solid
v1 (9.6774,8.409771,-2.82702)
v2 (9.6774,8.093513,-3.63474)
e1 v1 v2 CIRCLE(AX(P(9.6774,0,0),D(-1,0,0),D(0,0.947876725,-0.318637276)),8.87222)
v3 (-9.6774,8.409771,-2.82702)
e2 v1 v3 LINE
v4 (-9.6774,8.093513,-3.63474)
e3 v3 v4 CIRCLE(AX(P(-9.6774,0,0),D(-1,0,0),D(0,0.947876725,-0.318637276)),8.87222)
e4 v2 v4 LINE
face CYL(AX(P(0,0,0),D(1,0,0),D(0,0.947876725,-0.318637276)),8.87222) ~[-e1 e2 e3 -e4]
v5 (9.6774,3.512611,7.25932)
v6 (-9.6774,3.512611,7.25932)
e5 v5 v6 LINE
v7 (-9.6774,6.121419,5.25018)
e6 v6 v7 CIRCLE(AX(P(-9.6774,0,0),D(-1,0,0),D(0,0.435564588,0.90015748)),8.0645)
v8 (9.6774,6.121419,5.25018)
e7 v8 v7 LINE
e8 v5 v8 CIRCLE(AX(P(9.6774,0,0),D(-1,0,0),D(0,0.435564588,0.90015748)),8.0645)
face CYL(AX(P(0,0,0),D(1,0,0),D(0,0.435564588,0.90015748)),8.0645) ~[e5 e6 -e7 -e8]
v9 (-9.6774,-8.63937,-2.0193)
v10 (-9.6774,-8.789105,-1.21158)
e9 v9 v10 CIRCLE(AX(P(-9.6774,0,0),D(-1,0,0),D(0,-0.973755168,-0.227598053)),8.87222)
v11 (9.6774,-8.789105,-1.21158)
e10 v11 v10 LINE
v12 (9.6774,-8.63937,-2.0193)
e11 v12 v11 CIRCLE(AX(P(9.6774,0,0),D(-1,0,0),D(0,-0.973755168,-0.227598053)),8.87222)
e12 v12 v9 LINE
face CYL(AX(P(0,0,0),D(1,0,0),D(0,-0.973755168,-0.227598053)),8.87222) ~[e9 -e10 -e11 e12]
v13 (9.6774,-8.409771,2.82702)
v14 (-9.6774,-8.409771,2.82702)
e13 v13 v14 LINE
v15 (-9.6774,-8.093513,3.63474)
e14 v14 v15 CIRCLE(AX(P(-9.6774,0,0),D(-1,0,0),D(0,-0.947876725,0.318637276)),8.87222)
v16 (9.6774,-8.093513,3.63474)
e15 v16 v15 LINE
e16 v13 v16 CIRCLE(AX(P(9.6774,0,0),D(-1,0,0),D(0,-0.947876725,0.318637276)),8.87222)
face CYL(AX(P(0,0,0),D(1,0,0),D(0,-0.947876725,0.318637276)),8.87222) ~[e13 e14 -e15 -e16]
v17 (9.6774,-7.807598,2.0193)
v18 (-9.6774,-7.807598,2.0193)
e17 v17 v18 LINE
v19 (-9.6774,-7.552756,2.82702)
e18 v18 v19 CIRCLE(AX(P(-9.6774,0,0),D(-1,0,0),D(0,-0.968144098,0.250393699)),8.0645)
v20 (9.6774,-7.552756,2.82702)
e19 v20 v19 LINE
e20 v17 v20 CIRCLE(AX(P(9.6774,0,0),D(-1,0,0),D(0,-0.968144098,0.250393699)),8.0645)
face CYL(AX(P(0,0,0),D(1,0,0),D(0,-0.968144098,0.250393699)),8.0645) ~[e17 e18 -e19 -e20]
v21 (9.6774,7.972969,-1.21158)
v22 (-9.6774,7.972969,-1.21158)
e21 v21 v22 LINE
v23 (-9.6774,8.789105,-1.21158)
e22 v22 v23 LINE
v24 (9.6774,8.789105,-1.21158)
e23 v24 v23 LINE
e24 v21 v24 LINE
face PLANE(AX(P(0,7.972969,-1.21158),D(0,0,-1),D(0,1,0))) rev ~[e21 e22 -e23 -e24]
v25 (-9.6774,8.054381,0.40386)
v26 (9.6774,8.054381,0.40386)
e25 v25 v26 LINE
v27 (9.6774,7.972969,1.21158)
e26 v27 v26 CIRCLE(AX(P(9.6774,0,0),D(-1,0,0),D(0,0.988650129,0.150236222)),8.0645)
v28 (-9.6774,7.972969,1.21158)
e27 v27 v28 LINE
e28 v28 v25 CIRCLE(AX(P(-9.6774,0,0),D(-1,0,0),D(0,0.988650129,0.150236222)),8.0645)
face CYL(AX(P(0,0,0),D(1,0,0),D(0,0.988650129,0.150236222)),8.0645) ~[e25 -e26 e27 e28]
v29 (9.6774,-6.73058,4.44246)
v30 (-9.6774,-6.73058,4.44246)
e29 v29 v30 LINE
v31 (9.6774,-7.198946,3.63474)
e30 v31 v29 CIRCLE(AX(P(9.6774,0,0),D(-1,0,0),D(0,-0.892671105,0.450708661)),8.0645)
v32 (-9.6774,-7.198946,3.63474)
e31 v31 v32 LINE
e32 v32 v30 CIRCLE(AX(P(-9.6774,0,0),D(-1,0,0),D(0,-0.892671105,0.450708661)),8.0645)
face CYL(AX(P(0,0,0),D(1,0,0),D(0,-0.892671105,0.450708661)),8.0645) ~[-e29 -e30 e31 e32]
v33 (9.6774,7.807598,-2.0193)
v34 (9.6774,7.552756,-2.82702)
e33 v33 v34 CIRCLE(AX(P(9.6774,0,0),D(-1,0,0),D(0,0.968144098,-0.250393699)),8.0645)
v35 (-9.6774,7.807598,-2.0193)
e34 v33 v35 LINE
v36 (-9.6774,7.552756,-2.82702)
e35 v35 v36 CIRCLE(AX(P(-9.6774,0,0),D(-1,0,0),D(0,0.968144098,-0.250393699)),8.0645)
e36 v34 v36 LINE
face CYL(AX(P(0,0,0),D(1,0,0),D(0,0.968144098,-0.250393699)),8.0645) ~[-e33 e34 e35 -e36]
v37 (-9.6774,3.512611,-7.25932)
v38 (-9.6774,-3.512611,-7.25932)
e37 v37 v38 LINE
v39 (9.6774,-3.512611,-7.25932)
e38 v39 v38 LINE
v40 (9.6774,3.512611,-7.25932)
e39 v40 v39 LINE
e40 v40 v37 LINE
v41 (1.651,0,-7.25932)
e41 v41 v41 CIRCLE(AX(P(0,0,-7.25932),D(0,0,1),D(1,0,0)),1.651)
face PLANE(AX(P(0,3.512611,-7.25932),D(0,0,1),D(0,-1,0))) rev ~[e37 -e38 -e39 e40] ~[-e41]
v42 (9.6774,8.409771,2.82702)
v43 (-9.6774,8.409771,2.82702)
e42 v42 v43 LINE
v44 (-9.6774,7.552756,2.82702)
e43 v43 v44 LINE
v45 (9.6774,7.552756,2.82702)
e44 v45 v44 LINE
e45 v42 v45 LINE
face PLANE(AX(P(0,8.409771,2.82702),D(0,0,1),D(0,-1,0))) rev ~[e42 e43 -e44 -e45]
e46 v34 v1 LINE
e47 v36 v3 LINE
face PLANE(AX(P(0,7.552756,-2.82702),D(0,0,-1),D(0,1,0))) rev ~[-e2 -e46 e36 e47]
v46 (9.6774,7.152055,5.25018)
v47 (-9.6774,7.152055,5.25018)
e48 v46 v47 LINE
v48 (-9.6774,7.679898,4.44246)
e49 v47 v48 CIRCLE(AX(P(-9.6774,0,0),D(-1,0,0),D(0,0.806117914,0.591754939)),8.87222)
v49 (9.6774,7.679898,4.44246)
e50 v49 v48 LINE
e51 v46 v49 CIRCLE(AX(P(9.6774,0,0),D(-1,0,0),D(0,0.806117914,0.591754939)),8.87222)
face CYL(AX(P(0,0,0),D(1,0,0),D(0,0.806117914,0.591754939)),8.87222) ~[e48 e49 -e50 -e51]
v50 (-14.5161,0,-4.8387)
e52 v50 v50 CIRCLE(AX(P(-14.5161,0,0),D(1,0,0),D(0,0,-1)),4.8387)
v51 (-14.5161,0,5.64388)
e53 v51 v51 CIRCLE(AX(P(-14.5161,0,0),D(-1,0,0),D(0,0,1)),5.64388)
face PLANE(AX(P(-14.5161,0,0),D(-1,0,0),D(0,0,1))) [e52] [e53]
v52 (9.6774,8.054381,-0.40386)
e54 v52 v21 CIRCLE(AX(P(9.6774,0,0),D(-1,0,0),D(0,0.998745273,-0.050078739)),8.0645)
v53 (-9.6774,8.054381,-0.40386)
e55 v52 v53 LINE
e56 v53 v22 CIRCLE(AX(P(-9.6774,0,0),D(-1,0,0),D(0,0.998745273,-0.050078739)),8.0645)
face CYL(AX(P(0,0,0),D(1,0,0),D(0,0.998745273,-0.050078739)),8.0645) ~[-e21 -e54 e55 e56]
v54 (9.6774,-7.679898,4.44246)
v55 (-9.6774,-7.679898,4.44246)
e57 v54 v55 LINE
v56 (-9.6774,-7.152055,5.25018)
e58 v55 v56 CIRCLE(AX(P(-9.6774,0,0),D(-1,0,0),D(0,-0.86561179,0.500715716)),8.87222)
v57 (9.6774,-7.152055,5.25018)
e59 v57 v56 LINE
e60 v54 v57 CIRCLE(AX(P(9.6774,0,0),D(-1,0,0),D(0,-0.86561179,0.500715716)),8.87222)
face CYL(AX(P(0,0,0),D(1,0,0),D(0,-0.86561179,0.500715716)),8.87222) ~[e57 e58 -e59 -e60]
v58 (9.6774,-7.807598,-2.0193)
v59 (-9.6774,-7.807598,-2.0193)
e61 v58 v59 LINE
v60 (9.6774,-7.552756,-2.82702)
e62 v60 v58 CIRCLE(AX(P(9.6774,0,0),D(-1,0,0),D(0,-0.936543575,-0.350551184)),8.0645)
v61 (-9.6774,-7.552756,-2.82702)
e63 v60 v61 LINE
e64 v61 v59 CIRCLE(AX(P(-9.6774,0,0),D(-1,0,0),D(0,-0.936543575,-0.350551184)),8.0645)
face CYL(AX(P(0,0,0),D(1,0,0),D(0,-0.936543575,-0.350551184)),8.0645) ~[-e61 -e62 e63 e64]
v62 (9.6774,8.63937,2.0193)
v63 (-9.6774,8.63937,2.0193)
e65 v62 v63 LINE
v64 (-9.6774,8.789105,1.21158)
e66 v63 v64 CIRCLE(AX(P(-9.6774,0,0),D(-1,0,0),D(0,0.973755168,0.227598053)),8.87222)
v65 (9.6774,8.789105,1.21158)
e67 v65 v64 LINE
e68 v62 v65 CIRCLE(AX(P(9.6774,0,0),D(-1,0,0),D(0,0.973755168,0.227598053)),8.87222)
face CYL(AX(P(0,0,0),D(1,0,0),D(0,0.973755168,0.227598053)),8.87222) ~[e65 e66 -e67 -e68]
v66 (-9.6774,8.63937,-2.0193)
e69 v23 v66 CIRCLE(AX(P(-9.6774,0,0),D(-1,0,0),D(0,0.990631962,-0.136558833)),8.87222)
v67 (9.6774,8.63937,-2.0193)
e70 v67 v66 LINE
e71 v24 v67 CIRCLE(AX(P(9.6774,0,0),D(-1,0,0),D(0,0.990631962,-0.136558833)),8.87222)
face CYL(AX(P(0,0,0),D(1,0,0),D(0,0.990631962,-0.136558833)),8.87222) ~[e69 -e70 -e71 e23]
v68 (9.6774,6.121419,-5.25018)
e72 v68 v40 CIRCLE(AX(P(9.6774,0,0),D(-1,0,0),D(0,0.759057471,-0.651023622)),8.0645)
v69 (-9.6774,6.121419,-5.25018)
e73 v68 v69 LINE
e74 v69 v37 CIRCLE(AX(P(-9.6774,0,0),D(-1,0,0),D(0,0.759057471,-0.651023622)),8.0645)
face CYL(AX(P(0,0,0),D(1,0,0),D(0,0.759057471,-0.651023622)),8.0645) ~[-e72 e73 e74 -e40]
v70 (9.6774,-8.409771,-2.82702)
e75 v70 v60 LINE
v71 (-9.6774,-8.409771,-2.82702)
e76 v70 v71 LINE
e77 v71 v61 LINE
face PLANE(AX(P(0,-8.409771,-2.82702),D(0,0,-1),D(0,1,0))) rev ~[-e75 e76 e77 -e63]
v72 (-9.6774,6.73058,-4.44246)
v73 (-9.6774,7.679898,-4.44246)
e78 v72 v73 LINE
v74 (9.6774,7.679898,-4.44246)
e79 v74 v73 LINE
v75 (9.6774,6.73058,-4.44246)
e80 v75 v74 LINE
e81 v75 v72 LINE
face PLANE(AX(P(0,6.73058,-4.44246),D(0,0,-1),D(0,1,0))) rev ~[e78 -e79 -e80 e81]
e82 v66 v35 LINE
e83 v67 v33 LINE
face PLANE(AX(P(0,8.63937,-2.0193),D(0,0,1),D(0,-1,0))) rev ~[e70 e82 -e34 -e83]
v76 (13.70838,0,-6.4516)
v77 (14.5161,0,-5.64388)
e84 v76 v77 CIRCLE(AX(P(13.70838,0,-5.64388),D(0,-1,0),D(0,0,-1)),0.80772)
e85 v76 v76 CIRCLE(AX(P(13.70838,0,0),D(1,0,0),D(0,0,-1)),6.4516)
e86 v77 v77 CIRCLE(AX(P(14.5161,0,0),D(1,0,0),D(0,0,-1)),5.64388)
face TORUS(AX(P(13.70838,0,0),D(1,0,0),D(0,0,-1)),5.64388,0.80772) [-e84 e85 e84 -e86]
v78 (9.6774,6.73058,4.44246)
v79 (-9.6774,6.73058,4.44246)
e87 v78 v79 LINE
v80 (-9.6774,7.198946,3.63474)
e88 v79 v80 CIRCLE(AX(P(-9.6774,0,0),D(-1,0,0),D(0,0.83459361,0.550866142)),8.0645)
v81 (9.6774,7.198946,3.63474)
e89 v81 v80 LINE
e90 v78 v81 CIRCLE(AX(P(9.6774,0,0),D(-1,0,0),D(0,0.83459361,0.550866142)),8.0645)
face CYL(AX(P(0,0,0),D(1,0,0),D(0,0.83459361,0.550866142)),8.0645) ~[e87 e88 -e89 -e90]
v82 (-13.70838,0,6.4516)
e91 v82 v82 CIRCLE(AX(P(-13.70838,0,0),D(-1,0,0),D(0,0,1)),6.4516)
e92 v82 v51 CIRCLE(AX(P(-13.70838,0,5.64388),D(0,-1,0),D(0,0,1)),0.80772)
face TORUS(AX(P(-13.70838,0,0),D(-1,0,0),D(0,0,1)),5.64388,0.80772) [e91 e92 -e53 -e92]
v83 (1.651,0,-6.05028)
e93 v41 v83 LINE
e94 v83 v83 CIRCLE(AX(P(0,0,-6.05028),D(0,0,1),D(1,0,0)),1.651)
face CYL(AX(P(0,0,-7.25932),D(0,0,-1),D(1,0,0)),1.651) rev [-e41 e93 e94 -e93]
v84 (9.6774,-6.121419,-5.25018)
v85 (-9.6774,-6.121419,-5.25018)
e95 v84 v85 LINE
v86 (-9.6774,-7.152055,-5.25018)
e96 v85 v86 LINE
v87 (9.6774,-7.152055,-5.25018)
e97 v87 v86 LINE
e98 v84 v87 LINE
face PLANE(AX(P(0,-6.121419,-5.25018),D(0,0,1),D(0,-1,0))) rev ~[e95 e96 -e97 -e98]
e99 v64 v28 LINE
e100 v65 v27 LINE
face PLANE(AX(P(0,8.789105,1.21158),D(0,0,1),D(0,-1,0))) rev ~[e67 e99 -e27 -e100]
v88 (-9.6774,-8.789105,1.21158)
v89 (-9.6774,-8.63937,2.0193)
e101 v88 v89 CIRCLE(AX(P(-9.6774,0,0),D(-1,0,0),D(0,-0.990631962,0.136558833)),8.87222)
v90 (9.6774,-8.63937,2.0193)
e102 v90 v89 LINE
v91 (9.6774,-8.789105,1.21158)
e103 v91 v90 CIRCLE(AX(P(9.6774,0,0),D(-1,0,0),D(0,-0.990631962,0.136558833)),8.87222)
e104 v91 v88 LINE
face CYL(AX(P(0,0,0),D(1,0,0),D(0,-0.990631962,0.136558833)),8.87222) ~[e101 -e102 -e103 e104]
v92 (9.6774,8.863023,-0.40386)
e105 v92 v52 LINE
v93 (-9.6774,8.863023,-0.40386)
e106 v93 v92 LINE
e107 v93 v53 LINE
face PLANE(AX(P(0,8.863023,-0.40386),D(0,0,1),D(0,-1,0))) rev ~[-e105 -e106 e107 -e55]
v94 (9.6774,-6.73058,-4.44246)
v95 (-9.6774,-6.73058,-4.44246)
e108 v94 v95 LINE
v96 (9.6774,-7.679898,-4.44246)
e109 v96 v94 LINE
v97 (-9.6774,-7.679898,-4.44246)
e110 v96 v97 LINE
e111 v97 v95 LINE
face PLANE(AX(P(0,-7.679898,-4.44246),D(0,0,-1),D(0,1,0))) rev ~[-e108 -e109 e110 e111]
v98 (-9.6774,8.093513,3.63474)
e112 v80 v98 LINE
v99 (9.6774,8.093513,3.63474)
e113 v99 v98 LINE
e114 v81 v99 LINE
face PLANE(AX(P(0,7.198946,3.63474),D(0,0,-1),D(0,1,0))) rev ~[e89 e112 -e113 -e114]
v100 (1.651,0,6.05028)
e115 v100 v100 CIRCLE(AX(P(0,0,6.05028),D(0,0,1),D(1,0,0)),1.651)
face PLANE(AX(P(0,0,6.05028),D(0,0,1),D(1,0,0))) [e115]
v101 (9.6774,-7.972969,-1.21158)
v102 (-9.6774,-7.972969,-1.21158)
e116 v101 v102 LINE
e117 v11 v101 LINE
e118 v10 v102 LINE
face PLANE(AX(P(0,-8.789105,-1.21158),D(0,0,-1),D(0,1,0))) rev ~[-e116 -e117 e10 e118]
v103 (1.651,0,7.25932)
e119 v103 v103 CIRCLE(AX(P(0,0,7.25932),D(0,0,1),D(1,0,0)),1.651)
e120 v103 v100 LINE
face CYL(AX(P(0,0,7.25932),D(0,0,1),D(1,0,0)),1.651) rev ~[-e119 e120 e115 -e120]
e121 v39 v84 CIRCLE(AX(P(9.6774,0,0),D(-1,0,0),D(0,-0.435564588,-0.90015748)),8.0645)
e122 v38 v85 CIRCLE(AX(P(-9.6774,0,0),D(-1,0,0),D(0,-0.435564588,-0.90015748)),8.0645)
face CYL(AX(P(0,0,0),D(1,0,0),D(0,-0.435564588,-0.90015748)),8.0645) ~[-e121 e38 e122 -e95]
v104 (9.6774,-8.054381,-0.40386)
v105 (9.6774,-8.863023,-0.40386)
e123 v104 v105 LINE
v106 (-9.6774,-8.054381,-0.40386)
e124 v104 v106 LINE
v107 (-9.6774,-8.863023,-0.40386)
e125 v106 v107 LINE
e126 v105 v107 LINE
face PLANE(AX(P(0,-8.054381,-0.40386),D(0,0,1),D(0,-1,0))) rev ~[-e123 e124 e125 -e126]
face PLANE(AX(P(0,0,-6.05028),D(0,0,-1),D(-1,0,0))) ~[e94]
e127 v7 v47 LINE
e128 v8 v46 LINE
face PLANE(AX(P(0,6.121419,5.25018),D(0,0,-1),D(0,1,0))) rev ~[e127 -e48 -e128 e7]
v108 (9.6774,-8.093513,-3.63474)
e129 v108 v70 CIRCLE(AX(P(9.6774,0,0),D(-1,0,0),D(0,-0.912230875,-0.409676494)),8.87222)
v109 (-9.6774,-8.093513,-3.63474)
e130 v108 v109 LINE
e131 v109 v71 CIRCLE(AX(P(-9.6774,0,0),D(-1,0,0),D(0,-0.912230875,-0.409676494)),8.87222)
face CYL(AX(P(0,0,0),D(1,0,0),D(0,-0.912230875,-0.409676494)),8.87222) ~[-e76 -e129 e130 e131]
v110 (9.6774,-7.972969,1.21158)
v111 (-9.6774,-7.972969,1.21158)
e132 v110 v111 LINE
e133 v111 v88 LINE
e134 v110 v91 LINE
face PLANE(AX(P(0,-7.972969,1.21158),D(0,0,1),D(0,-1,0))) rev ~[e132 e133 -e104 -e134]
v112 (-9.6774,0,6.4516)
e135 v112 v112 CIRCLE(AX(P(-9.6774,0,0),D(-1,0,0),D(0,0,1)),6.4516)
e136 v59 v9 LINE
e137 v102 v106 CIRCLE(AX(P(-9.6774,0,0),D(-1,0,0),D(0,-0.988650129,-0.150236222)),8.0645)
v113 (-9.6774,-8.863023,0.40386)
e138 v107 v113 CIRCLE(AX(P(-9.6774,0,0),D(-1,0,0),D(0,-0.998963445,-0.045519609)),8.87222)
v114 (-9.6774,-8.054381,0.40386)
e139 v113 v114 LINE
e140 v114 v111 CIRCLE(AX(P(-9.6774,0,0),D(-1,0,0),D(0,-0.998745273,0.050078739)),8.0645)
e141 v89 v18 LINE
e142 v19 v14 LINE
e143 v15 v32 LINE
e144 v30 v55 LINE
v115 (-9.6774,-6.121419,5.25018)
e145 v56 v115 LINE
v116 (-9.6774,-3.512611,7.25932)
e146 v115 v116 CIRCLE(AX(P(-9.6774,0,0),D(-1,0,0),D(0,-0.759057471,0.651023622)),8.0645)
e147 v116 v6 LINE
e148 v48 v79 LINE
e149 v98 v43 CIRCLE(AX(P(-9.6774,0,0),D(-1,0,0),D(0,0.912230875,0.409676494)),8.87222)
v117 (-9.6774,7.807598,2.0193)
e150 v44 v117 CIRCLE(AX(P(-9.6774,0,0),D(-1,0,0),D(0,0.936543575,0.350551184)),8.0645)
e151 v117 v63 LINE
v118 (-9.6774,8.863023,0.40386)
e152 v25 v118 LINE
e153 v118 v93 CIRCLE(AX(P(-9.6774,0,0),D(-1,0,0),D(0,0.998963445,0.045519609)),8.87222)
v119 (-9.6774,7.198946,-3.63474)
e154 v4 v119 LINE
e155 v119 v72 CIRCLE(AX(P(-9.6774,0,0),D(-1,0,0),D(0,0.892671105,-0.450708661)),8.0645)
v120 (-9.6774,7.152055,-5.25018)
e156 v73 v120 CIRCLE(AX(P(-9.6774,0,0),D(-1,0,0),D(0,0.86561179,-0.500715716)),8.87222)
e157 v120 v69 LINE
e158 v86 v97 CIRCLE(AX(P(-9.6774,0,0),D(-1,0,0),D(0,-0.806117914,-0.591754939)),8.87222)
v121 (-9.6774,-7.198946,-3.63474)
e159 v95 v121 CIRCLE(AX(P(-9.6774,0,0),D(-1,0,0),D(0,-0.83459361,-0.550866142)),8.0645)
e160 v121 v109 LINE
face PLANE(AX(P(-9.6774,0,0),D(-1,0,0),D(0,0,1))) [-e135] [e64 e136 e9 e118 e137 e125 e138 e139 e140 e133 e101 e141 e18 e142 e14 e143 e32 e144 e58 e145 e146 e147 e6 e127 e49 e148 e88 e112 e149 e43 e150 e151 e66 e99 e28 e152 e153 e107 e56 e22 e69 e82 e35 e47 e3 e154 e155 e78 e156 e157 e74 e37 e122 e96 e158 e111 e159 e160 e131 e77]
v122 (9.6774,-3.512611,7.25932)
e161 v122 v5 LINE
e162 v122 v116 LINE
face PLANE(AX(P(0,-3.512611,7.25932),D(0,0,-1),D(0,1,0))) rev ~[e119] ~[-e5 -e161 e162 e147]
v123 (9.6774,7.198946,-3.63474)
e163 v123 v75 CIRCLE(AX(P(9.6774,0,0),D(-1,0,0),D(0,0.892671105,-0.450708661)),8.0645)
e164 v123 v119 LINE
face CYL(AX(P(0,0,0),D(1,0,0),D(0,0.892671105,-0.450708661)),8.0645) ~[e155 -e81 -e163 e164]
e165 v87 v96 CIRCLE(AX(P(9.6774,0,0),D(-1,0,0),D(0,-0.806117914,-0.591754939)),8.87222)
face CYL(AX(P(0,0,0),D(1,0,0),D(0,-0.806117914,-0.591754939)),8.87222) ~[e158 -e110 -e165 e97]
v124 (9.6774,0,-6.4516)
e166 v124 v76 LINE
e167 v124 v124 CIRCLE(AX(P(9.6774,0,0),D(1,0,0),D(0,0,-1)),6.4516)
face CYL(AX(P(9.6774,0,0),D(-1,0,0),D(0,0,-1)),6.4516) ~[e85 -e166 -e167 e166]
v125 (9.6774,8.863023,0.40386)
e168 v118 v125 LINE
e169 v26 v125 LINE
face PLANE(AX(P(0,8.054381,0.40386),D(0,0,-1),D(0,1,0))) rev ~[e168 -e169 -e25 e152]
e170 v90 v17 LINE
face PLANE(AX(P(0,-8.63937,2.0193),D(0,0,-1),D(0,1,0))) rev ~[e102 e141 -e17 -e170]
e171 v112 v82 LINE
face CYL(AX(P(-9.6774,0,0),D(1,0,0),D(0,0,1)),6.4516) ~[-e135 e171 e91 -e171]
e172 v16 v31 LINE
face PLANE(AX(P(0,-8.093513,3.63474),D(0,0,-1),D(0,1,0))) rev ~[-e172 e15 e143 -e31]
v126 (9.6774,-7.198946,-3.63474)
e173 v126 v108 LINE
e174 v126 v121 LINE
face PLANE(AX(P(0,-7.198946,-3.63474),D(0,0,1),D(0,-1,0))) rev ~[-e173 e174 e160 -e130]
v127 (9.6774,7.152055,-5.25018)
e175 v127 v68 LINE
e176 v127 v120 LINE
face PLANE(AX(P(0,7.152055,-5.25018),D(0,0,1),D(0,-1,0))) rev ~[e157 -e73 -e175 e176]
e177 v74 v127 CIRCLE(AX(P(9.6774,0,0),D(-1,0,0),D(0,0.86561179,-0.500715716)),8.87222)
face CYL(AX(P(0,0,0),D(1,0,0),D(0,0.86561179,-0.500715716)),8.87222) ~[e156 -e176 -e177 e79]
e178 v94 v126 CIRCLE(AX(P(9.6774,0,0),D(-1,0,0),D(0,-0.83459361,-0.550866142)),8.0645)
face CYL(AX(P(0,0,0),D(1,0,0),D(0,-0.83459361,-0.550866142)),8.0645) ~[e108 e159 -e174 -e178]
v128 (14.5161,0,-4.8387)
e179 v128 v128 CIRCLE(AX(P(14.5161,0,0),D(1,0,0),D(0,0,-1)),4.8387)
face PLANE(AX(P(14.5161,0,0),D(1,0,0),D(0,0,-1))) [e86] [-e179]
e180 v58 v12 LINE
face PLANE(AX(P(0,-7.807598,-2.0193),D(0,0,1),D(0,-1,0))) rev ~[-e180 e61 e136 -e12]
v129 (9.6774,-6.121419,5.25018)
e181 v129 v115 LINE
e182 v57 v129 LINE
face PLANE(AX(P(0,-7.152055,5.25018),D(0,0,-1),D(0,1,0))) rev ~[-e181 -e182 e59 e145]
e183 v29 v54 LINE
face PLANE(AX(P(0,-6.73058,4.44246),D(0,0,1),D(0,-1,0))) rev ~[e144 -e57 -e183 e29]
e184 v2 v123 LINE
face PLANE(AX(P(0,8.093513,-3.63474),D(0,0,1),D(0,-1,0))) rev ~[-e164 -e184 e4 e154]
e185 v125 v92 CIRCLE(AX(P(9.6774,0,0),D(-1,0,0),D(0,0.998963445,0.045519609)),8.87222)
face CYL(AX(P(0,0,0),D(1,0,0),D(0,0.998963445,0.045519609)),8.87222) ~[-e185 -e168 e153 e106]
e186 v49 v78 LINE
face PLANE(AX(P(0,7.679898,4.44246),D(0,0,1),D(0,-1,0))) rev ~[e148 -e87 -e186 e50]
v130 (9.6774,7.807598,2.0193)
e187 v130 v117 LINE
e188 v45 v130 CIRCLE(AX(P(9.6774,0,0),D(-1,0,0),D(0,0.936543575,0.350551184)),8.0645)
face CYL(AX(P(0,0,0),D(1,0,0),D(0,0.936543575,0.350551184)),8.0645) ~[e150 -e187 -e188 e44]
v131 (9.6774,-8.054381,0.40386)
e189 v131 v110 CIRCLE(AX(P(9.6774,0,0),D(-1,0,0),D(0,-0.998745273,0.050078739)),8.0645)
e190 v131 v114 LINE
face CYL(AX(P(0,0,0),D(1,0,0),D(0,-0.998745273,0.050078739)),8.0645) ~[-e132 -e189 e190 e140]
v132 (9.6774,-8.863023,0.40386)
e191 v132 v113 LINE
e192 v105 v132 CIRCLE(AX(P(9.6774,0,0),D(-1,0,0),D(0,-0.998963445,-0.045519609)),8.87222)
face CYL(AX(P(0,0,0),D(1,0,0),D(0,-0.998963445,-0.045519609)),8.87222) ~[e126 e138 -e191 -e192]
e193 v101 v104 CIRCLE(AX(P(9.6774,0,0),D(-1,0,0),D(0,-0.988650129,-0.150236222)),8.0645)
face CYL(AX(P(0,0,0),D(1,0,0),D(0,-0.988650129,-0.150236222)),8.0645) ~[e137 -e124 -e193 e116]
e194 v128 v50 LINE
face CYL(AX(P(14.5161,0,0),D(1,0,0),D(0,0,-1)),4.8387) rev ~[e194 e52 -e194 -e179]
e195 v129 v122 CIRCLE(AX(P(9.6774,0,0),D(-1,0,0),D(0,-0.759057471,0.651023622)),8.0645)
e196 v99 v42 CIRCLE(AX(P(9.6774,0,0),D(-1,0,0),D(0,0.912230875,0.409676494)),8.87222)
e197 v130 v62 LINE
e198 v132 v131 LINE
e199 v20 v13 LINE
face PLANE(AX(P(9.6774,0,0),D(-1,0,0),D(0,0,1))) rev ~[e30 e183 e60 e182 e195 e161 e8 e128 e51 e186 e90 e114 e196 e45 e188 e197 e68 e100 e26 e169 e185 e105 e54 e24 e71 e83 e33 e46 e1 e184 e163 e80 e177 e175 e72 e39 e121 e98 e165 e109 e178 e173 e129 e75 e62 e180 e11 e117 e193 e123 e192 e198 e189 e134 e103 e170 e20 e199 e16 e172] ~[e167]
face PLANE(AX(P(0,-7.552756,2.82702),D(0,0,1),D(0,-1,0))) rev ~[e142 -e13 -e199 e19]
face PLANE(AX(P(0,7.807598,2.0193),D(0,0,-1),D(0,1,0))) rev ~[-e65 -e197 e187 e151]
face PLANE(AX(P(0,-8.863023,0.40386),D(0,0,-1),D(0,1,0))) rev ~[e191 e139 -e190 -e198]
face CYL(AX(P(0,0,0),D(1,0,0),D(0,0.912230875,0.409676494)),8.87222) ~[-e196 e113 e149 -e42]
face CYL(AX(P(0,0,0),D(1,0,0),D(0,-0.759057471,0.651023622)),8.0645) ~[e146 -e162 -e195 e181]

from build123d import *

# Parameters (mm, degrees)
BOSS_EXTRUDE1_DEPTH      = 9.6774
BOSS_EXTRUDE1_DEPTH_BACK = 9.6774
SKETCH2_R                = 6.4516
BOSS_EXTRUDE2_DEPTH      = 4.8387
SKETCH3_R                = 6.4516
BOSS_EXTRUDE3_DEPTH      = 4.8387
SKETCH4_R                = 4.8387
CUT_EXTRUDE1_DEPTH       = 30.0322
FILLET1_R                = 0.80772
SKETCH5_R                = 1.651
CUT_EXTRUDE2_DEPTH       = 1.20904


with BuildPart() as part:
    # Sketch1 → Boss-Extrude1 (new body, two sides)
    with BuildSketch(Plane(origin=(0, 0, 0), x_dir=(0, 0, -1), z_dir=(1, 0, 0))) as boss_extrude1_sk:
        with BuildLine():
            Line((0.40386, 8.863023459), (0.40386, 8.054381252))
            ThreePointArc((0.40386, 8.054381252), (0.80874507, 8.023845192), (1.21158, 7.972968967))
            Line((1.21158, 7.972968967), (1.21158, 8.789104712))
            ThreePointArc((1.21158, 8.789104712), (1.617173927, 8.723590787), (2.0193, 8.639370072))
            Line((2.0193, 8.639370072), (2.0193, 7.807598079))
            ThreePointArc((2.0193, 7.807598079), (2.426507892, 7.690787977), (2.82702, 7.552755667))
            Line((2.82702, 7.552755667), (2.82702, 8.409770844))
            ThreePointArc((2.82702, 8.409770844), (3.234747336, 8.261519073), (3.63474, 8.093513011))
            Line((3.63474, 8.093513011), (3.63474, 7.19894613))
            ThreePointArc((3.63474, 7.19894613), (4.04538399, 6.976462472), (4.44246, 6.730580168))
            Line((4.44246, 6.730580168), (4.44246, 7.679898233))
            ThreePointArc((4.44246, 7.679898233), (4.853501008, 7.426965443), (5.25018, 7.152055487))
            Line((5.25018, 7.152055487), (5.25018, 6.121418971))
            ThreePointArc((5.25018, 6.121418971), (6.389316694, 4.920649595), (7.25932, 3.512610623))
            Line((7.25932, 3.512610623), (7.25932, -3.512610623))
            ThreePointArc((7.25932, -3.512610623), (6.389316694, -4.920649595), (5.25018, -6.121418971))
            Line((5.25018, -6.121418971), (5.25018, -7.152055487))
            ThreePointArc((5.25018, -7.152055487), (4.853501008, -7.426965443), (4.44246, -7.679898233))
            Line((4.44246, -7.679898233), (4.44246, -6.730580168))
            ThreePointArc((4.44246, -6.730580168), (4.04538399, -6.976462472), (3.63474, -7.19894613))
            Line((3.63474, -7.19894613), (3.63474, -8.093513011))
            ThreePointArc((3.63474, -8.093513011), (3.234747336, -8.261519073), (2.82702, -8.409770844))
            Line((2.82702, -8.409770844), (2.82702, -7.552755667))
            ThreePointArc((2.82702, -7.552755667), (2.426507892, -7.690787977), (2.0193, -7.807598079))
            Line((2.0193, -7.807598079), (2.0193, -8.639370072))
            ThreePointArc((2.0193, -8.639370072), (1.617173927, -8.723590787), (1.21158, -8.789104712))
            Line((1.21158, -8.789104712), (1.21158, -7.972968967))
            ThreePointArc((1.21158, -7.972968967), (0.80874507, -8.023845192), (0.40386, -8.054381252))
            Line((0.40386, -8.054381252), (0.40386, -8.863023459))
            ThreePointArc((0.40386, -8.863023459), (0, -8.87222), (-0.40386, -8.863023459))
            Line((-0.40386, -8.863023459), (-0.40386, -8.054381252))
            ThreePointArc((-0.40386, -8.054381252), (-0.80874507, -8.023845192), (-1.21158, -7.972968967))
            Line((-1.21158, -7.972968967), (-1.21158, -8.789104712))
            ThreePointArc((-1.21158, -8.789104712), (-1.617173927, -8.723590787), (-2.0193, -8.639370072))
            Line((-2.0193, -8.639370072), (-2.0193, -7.807598079))
            ThreePointArc((-2.0193, -7.807598079), (-2.426507892, -7.690787977), (-2.82702, -7.552755667))
            Line((-2.82702, -7.552755667), (-2.82702, -8.409770844))
            ThreePointArc((-2.82702, -8.409770844), (-3.234747336, -8.261519073), (-3.63474, -8.093513011))
            Line((-3.63474, -8.093513011), (-3.63474, -7.19894613))
            ThreePointArc((-3.63474, -7.19894613), (-4.04538399, -6.976462472), (-4.44246, -6.730580168))
            Line((-4.44246, -6.730580168), (-4.44246, -7.679898233))
            ThreePointArc((-4.44246, -7.679898233), (-4.853501008, -7.426965443), (-5.25018, -7.152055487))
            Line((-5.25018, -7.152055487), (-5.25018, -6.121418971))
            ThreePointArc((-5.25018, -6.121418971), (-6.389316694, -4.920649595), (-7.25932, -3.512610623))
            Line((-7.25932, -3.512610623), (-7.25932, 3.512610623))
            ThreePointArc((-7.25932, 3.512610623), (-6.389316694, 4.920649595), (-5.25018, 6.121418971))
            Line((-5.25018, 6.121418971), (-5.25018, 7.152055487))
            ThreePointArc((-5.25018, 7.152055487), (-4.853501008, 7.426965443), (-4.44246, 7.679898233))
            Line((-4.44246, 7.679898233), (-4.44246, 6.730580168))
            ThreePointArc((-4.44246, 6.730580168), (-4.04538399, 6.976462472), (-3.63474, 7.19894613))
            Line((-3.63474, 7.19894613), (-3.63474, 8.093513011))
            ThreePointArc((-3.63474, 8.093513011), (-3.234747336, 8.261519073), (-2.82702, 8.409770844))
            Line((-2.82702, 8.409770844), (-2.82702, 7.552755667))
            ThreePointArc((-2.82702, 7.552755667), (-2.426507892, 7.690787977), (-2.0193, 7.807598079))
            Line((-2.0193, 7.807598079), (-2.0193, 8.639370072))
            ThreePointArc((-2.0193, 8.639370072), (-1.617173927, 8.723590787), (-1.21158, 8.789104712))
            Line((-1.21158, 8.789104712), (-1.21158, 7.972968967))
            ThreePointArc((-1.21158, 7.972968967), (-0.80874507, 8.023845192), (-0.40386, 8.054381252))
            Line((-0.40386, 8.054381252), (-0.40386, 8.863023459))
            ThreePointArc((-0.40386, 8.863023459), (0, 8.87222), (0.40386, 8.863023459))
        make_face()
    extrude(amount=BOSS_EXTRUDE1_DEPTH)
    extrude(boss_extrude1_sk.sketch, amount=-BOSS_EXTRUDE1_DEPTH_BACK)

    # Sketch2 → Boss-Extrude2 (add)
    with BuildSketch(Plane(origin=(9.6774, 0, 0), x_dir=(0, 0, -1), z_dir=(1, 0, 0))):
        Circle(SKETCH2_R)
    extrude(amount=BOSS_EXTRUDE2_DEPTH)

    # Sketch3 → Boss-Extrude3 (add)
    with BuildSketch(Plane.ZY.offset(9.6774)):
        Circle(SKETCH3_R)
    extrude(amount=BOSS_EXTRUDE3_DEPTH)

    # Sketch4 → Cut-Extrude1 (cut, through all)
    with BuildSketch(Plane(origin=(14.5161, 0, 0), x_dir=(0, 0, -1), z_dir=(1, 0, 0))):
        Circle(SKETCH4_R)
    extrude(amount=-CUT_EXTRUDE1_DEPTH, mode=Mode.SUBTRACT)

    # Fillet1
    fillet1_edges = [part.edges().sort_by_distance(p)[0] for p in [
        (14.5161, 0, 6.4516),
        (-14.5161, 0, -6.4516),
    ]]
    fillet(fillet1_edges, radius=FILLET1_R)

    # Sketch5 → Cut-Extrude2 (cut)
    with BuildSketch(Plane.XY.offset(7.25932)):
        Circle(SKETCH5_R)
    cut_extrude2 = extrude(amount=-CUT_EXTRUDE2_DEPTH, mode=Mode.SUBTRACT)

    # Mirror1: Cut-Extrude2 across plane
    add(cut_extrude2.mirror(Plane.XY), mode=Mode.SUBTRACT)


solid = part.part
